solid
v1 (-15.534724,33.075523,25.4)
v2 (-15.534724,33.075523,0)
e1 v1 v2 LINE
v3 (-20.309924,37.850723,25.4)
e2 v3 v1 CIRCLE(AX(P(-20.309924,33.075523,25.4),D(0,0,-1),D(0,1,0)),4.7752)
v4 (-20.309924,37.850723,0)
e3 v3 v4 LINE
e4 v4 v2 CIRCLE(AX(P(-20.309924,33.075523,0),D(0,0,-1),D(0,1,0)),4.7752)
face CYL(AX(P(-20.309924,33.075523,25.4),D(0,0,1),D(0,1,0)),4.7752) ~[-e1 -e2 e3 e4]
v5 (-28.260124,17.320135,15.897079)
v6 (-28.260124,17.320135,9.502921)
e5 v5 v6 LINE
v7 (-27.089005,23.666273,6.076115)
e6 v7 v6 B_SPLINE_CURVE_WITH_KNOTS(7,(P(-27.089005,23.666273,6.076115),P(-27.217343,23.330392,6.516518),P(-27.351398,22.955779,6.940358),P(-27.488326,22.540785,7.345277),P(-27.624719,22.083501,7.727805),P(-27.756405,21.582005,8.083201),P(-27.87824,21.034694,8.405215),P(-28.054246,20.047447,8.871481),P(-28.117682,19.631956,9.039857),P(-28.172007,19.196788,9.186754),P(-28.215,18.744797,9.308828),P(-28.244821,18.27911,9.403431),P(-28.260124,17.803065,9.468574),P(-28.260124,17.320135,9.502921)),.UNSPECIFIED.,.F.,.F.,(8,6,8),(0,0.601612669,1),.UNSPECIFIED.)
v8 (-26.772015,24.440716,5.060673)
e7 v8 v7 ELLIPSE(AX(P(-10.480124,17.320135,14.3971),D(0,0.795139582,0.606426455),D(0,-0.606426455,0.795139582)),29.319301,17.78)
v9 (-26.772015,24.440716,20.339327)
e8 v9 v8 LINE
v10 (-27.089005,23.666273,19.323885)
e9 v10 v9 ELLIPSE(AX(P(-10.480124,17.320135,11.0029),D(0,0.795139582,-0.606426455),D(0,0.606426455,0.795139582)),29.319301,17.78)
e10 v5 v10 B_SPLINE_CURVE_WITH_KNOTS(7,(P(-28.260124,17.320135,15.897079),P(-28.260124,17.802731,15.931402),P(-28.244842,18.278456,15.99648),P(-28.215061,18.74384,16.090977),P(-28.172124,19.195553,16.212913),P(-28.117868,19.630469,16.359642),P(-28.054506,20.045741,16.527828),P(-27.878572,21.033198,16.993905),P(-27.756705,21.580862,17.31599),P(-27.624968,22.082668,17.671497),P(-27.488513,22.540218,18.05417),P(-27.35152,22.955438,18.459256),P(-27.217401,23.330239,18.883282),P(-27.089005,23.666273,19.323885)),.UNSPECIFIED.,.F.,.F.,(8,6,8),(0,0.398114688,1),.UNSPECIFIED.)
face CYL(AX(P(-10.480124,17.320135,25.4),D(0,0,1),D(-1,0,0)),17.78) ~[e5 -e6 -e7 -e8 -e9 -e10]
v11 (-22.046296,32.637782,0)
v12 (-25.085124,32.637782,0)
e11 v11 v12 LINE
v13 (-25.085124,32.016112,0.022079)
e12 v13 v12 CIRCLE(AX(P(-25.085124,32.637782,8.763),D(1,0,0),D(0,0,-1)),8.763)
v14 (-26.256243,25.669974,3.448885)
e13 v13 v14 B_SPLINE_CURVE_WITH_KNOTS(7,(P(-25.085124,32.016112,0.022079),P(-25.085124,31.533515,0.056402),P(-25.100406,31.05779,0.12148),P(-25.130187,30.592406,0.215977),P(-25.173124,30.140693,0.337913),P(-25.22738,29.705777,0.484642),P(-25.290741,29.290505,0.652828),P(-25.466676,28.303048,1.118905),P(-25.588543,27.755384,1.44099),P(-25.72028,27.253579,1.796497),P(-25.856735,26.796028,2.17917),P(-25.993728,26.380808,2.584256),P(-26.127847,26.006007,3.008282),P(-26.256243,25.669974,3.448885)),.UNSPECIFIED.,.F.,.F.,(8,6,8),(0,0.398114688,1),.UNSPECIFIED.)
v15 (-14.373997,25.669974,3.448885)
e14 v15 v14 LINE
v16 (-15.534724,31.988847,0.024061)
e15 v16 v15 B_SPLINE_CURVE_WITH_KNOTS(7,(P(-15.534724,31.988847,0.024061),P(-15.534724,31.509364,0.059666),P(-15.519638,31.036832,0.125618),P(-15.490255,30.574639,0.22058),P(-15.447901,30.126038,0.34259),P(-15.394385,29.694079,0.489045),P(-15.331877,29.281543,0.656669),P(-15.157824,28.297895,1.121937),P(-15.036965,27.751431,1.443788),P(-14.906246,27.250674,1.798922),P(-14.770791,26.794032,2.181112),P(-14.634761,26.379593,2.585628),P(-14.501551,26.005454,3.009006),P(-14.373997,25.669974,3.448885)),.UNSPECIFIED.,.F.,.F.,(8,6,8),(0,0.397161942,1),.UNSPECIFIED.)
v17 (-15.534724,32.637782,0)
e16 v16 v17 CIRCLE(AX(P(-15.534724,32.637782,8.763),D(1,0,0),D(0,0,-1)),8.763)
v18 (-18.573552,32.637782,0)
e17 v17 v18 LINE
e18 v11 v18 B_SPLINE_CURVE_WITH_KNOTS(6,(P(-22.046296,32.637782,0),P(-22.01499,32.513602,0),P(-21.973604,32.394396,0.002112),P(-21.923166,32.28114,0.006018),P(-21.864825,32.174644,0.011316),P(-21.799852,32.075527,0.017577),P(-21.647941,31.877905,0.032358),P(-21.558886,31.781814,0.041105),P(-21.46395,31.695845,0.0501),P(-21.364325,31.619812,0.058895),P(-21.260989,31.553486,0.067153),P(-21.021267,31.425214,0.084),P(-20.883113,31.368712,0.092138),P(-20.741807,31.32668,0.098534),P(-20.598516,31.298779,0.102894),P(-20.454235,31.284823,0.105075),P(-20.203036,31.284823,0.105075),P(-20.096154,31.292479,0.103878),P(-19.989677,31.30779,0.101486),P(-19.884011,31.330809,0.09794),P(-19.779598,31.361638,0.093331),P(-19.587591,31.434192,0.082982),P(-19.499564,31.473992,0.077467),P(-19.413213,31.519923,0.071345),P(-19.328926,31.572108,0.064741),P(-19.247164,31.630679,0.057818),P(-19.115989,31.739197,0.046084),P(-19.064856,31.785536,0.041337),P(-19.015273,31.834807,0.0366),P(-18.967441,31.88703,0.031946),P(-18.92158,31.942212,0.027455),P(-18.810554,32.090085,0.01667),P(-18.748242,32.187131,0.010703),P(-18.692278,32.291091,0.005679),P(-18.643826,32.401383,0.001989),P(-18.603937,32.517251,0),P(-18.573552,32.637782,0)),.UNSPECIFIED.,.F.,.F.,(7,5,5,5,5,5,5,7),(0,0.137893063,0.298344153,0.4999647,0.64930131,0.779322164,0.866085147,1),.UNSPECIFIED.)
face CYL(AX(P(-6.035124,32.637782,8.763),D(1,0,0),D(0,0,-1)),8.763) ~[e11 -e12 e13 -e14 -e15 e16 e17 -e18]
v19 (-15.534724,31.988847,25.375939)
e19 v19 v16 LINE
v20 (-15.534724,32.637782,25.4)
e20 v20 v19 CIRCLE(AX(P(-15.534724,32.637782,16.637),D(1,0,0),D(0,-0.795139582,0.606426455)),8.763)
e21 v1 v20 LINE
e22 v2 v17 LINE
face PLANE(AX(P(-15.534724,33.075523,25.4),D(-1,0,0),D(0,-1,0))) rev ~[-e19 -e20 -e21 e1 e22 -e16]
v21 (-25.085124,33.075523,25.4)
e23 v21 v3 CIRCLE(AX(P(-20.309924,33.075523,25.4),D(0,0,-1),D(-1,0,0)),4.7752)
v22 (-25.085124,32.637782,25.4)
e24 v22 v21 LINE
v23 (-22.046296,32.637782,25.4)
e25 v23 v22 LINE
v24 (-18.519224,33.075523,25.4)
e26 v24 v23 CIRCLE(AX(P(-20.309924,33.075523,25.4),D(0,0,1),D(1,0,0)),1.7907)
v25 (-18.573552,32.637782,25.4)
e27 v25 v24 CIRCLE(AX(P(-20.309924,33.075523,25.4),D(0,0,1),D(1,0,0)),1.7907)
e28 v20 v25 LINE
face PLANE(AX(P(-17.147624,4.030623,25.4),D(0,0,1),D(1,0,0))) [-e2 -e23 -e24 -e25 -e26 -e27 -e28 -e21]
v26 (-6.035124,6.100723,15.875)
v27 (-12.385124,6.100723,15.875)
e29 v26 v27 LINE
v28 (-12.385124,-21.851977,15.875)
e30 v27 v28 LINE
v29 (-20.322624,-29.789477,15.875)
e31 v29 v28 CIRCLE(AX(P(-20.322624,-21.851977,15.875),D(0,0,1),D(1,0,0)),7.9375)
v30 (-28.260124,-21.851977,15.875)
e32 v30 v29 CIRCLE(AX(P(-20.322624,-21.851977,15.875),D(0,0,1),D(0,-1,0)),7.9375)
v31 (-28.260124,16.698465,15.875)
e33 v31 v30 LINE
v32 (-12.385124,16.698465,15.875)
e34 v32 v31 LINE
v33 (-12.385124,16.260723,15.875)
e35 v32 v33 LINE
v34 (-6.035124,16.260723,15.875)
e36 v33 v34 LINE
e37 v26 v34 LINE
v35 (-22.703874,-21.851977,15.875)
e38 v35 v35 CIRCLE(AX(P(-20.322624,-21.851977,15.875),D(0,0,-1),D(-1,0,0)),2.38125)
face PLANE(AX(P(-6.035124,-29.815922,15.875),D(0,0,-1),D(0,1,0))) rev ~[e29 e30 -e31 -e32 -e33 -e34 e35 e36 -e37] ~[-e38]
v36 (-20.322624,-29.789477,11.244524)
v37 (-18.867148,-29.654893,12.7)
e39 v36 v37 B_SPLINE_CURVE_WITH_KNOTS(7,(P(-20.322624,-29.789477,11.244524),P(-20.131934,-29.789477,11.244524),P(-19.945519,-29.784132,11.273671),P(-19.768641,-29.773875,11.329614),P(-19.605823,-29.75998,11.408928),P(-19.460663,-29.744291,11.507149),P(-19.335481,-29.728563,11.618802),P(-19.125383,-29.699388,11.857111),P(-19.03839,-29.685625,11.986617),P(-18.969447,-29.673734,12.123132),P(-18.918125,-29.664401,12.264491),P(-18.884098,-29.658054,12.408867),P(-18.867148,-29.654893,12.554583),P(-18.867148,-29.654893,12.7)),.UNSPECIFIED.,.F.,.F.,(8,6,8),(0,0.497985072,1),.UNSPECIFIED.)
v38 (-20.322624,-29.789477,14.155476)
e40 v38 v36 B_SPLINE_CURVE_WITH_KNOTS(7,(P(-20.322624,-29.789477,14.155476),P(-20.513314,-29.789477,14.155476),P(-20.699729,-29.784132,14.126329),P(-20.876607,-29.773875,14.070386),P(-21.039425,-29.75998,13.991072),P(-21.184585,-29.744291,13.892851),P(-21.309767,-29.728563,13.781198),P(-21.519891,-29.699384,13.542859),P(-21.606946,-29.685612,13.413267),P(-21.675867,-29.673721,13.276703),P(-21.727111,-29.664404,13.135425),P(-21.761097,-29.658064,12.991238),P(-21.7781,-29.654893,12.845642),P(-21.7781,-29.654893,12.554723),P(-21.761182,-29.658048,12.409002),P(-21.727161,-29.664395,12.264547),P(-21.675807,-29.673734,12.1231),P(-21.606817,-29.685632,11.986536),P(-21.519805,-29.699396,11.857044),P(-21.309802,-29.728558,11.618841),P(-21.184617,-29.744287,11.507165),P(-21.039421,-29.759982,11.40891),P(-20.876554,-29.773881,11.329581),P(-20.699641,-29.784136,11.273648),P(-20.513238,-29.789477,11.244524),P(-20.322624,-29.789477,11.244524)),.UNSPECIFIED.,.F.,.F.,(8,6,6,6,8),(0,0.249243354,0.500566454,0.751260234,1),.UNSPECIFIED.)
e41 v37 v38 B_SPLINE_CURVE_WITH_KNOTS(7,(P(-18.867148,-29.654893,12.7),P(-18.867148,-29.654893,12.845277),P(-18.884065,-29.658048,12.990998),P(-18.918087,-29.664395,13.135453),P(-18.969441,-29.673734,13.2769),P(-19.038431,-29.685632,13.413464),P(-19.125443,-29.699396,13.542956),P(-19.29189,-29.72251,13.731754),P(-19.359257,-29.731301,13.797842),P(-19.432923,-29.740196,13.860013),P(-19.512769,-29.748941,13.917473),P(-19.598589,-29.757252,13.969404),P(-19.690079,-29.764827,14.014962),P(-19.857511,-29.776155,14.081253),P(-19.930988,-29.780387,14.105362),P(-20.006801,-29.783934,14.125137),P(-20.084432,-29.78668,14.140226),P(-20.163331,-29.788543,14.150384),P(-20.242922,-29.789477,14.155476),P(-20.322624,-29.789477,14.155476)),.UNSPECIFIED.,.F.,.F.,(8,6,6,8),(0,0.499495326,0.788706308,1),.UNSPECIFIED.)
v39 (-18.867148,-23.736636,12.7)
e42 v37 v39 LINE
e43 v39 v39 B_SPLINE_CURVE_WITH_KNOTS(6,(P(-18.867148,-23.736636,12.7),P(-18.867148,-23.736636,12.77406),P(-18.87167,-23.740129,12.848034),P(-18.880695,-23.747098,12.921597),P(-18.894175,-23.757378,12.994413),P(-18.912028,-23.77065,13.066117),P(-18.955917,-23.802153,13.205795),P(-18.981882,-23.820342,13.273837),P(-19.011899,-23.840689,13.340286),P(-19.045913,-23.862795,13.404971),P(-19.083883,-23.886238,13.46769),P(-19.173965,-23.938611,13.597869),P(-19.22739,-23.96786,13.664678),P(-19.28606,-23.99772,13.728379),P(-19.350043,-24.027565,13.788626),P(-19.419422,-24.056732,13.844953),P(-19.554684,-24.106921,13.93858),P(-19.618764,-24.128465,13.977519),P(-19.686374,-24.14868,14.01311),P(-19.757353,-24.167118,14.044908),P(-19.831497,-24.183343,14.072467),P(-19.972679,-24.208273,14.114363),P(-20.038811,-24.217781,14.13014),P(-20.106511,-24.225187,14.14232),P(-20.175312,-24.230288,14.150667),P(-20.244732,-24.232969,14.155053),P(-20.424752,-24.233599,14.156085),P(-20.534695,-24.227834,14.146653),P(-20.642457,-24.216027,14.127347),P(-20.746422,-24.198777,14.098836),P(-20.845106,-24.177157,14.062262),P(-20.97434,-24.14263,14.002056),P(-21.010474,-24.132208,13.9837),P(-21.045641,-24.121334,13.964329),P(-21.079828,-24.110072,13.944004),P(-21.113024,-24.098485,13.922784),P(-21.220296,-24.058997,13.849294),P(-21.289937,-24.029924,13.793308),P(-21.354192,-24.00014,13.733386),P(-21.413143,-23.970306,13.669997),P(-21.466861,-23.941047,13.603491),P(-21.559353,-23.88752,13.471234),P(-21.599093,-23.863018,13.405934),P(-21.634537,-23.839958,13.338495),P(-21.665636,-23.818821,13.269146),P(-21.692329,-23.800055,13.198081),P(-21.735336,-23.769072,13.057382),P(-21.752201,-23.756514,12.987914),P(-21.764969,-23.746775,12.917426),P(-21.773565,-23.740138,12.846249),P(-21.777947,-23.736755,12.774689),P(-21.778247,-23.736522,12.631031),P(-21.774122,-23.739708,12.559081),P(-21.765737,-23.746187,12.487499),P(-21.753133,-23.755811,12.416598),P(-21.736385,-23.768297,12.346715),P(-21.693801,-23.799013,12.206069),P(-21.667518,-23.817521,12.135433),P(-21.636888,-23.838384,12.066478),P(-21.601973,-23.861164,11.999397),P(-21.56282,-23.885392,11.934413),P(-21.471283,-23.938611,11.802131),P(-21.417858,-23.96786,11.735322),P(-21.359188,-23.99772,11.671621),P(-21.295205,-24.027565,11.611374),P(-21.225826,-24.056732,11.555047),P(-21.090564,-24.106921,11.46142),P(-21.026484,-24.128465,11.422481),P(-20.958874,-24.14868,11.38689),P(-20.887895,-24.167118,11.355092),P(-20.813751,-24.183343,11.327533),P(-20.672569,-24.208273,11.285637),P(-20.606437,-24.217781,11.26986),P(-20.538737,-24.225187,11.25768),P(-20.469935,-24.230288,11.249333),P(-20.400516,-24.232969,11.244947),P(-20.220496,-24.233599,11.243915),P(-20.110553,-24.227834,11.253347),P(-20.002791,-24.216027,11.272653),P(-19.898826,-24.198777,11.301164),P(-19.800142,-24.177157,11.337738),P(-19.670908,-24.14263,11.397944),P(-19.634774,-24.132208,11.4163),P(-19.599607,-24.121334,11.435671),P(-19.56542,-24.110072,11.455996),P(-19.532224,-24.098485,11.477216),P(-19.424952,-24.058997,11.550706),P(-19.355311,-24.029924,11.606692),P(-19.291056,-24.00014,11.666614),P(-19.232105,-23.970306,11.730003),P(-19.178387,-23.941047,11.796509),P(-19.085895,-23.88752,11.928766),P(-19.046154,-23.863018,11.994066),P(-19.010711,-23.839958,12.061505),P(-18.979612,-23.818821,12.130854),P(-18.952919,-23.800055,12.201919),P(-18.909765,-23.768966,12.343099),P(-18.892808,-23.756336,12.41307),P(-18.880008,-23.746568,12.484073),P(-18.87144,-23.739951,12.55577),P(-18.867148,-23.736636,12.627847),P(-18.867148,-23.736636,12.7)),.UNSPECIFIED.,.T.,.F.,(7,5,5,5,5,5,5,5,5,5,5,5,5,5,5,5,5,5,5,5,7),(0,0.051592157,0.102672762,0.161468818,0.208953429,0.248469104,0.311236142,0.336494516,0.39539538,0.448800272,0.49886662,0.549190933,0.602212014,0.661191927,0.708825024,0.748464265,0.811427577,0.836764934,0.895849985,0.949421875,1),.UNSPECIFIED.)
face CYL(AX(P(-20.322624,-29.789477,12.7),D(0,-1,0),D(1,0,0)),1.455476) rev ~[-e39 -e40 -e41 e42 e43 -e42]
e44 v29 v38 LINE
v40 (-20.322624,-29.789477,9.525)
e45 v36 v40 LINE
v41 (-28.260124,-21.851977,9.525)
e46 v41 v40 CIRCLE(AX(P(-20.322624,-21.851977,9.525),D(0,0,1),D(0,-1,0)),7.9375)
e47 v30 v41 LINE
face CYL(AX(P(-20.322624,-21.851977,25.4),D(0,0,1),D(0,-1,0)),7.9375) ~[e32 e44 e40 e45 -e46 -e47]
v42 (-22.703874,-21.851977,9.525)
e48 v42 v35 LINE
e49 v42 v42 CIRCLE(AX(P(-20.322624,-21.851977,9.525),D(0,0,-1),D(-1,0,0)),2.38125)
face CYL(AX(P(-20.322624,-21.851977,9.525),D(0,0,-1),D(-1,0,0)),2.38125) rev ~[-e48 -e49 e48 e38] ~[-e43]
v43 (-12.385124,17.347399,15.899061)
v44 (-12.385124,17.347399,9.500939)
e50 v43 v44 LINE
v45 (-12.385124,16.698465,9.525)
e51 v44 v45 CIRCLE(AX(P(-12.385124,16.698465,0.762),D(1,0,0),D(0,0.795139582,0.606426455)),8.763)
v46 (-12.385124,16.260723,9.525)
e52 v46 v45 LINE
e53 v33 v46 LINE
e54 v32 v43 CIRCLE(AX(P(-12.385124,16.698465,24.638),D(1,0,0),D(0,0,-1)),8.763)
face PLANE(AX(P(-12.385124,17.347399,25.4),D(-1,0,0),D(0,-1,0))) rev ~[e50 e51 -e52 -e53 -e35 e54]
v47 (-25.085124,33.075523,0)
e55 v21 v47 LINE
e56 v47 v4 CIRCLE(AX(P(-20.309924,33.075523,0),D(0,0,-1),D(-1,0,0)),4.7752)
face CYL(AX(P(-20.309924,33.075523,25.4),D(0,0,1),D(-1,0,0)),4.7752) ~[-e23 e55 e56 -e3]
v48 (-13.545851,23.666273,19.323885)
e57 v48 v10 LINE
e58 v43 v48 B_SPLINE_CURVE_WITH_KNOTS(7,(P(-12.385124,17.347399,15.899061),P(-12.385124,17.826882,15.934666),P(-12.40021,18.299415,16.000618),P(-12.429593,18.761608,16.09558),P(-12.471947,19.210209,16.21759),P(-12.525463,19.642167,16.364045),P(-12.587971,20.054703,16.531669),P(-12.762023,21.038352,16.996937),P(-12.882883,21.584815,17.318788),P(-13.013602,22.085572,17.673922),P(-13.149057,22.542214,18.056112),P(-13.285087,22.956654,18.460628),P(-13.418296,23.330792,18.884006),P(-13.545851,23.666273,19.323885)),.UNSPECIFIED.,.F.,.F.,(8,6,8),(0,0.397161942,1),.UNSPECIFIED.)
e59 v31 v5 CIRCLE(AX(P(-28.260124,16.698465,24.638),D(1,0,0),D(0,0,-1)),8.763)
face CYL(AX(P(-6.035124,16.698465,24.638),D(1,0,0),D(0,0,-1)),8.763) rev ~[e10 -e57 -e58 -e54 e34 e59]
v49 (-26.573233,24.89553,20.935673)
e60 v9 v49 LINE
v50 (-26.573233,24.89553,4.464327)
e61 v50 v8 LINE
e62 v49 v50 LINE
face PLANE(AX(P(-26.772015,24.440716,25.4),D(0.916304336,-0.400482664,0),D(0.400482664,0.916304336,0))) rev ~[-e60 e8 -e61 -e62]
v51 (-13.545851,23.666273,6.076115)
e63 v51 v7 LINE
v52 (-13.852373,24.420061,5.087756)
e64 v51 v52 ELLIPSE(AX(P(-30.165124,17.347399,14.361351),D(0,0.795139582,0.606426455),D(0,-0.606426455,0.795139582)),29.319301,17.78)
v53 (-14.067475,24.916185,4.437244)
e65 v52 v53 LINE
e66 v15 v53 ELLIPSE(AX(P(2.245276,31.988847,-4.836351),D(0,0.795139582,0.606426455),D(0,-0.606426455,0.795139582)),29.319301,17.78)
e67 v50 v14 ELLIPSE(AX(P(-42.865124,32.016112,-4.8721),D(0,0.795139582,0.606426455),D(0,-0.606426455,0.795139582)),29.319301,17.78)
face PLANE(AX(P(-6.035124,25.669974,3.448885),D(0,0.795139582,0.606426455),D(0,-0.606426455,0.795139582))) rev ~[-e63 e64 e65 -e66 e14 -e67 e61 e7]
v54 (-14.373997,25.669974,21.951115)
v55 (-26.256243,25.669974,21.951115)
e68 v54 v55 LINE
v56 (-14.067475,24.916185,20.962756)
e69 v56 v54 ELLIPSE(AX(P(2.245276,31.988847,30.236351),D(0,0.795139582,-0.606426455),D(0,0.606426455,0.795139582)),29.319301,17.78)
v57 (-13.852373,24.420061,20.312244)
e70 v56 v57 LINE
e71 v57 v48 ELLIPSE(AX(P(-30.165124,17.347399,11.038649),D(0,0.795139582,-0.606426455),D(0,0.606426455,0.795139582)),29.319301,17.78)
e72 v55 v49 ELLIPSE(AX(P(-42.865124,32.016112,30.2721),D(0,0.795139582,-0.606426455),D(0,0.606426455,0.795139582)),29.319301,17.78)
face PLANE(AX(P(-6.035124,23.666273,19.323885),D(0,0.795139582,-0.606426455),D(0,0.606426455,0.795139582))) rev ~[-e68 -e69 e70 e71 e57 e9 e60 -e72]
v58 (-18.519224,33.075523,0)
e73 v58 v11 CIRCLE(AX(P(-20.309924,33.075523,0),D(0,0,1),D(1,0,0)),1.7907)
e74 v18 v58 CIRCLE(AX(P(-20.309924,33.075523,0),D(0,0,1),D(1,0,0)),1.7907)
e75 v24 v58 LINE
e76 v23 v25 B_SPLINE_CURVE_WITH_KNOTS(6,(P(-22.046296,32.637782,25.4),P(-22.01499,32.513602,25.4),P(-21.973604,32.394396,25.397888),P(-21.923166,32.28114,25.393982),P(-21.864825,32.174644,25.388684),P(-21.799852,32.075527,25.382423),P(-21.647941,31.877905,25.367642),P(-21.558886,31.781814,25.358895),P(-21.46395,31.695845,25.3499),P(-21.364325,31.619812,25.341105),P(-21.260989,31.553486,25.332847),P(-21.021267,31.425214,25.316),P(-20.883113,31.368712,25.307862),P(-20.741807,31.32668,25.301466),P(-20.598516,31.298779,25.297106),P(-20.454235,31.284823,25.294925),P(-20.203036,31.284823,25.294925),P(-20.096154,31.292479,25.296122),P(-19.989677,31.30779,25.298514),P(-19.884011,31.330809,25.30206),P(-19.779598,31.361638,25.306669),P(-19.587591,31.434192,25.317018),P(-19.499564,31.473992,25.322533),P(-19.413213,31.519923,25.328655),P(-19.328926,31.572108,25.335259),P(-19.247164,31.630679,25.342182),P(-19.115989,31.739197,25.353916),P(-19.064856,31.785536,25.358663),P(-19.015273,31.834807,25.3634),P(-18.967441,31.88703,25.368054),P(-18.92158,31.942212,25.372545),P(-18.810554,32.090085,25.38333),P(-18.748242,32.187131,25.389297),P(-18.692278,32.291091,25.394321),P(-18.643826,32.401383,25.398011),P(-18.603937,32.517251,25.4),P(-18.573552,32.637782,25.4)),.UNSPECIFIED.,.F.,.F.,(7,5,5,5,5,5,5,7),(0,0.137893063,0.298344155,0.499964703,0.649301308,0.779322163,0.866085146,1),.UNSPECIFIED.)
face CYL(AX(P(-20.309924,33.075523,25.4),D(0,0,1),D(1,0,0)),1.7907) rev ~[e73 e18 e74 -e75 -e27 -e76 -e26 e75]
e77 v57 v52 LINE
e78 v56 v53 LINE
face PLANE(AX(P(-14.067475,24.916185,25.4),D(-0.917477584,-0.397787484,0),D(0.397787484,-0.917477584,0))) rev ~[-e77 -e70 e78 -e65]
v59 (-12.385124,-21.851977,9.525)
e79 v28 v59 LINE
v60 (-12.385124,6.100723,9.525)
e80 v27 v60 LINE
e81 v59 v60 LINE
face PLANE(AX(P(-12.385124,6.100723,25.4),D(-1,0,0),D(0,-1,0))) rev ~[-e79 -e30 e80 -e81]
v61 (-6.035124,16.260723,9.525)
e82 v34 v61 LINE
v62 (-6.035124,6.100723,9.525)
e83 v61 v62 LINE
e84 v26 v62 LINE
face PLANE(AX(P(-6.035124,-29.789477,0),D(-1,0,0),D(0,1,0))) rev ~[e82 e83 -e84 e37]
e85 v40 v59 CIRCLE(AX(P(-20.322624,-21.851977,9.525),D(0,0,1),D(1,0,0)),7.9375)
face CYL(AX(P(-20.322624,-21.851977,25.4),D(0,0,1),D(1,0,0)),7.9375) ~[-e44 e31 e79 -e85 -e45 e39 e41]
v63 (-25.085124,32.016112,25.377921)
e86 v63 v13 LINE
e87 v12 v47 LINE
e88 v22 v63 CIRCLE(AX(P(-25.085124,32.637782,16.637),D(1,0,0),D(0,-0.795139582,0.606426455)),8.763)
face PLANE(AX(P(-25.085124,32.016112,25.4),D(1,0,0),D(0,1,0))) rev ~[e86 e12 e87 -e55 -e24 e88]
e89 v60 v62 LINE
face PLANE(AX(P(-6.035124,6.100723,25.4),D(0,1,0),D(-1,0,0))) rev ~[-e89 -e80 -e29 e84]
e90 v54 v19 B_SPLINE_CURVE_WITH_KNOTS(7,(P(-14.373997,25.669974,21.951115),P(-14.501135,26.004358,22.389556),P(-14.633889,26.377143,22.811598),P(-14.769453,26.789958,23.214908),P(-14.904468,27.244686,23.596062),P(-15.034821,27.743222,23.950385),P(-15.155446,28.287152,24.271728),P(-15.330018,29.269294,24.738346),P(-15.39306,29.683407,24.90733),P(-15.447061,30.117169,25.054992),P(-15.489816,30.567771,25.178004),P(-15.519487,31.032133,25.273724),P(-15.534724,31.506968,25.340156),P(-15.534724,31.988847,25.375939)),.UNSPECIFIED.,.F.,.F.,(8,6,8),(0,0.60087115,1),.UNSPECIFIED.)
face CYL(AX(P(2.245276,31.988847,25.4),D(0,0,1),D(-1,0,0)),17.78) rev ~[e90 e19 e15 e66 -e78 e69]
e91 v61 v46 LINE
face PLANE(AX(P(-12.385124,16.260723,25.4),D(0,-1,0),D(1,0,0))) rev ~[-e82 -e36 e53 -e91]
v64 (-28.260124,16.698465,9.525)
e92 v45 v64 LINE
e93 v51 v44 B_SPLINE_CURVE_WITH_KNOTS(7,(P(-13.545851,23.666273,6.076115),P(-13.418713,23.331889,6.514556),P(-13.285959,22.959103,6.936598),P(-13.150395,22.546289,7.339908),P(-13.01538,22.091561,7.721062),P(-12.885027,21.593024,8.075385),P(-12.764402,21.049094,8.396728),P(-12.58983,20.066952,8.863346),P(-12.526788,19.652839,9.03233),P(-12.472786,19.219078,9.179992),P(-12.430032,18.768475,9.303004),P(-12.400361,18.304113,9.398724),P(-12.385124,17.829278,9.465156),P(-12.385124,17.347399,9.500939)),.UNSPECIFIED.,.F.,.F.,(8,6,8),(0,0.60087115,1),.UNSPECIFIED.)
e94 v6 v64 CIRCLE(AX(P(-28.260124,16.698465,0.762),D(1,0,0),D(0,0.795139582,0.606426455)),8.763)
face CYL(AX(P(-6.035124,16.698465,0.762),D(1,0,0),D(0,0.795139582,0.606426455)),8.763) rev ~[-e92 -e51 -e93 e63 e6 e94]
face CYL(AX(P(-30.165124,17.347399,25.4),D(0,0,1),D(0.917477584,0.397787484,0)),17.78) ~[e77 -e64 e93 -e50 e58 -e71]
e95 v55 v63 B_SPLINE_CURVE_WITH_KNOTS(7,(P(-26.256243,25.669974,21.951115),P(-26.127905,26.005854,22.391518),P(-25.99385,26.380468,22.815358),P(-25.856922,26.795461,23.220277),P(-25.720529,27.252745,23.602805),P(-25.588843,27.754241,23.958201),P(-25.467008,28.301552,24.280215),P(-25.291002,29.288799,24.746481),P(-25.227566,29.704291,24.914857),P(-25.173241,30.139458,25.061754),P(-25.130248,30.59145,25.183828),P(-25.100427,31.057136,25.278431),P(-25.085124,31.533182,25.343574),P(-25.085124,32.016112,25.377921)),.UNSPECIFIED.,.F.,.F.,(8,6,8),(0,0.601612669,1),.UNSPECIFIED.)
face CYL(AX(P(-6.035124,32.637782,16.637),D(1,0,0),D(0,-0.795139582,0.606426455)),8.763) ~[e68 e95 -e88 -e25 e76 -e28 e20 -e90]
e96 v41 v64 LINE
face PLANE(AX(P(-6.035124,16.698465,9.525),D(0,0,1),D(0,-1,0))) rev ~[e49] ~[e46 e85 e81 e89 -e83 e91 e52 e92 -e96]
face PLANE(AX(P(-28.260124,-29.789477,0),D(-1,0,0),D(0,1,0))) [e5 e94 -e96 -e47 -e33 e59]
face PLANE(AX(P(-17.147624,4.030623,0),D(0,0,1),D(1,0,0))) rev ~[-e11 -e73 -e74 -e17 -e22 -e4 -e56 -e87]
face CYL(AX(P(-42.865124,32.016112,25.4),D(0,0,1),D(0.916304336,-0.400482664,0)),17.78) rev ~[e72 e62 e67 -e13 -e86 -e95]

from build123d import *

# Parameters (mm, degrees)
SKETCH1_W               = 22.225
SKETCH1_H               = 67.6402
BOSS_EXTRUDE1_DEPTH     = 25.4
SKETCH2_R               = 1.7907
CUT_EXTRUDE2_DEPTH      = 25.4
SKETCH4_W               = 9.525
SKETCH4_H               = 10.16
SKETCH4_H_2             = 35.894850391
SKETCH4_H_3             = 35.916644849
CUT_EXTRUDE3_DEPTH      = 51.712797865
SKETCH5_R               = 2.38125
CUT_EXTRUDE4_DEPTH      = 6.35
CUT_EXTRUDE5_REACH      = 79.582
CUT_EXTRUDE5_END_RADIUS = 2.38125
SKETCH6_R               = 1.455475959


with BuildPart() as part:
    # Sketch1 → Boss-Extrude1 (new body)
    with BuildSketch(Plane.XY):
        with Locations((-17.147623967, 4.03062314)):
            Rectangle(SKETCH1_W, SKETCH1_H)
    extrude(amount=BOSS_EXTRUDE1_DEPTH)

    # Sketch2 → Cut-Extrude2 (cut)
    with BuildSketch(Plane.XY.offset(25.4)):
        with BuildLine():
            ThreePointArc((-20.309923967, 37.85072314), (-16.933347665, 36.452099442), (-15.534723967, 33.07552314))
            Line((-15.534723967, 33.07552314), (-15.534723967, 31.988846816))
            ThreePointArc((-15.534723967, 31.988846816), (-15.164047916, 28.377221194), (-14.067475414, 24.916185349))
            Line((-14.067475414, 24.916185349), (-13.85237252, 24.420060932))
            ThreePointArc((-13.85237252, 24.420060932), (-12.755800018, 20.959025087), (-12.385123967, 17.347399465))
            Line((-12.385123967, 17.347399465), (-12.385123967, 16.26072314))
            Line((-12.385123967, 16.26072314), (-6.035123967, 16.26072314))
            Line((-6.035123967, 16.26072314), (-6.035123967, 37.85072314))
            Line((-6.035123967, 37.85072314), (-20.309923967, 37.85072314))
        make_face()
        with BuildLine():
            Line((-25.085123967, 32.016111722), (-25.085123967, 33.07552314))
            ThreePointArc((-25.085123967, 33.07552314), (-23.686500268, 36.452099442), (-20.309923967, 37.85072314))
            Line((-20.309923967, 37.85072314), (-28.260123967, 37.85072314))
            Line((-28.260123967, 37.85072314), (-28.260123967, 17.320134559))
            ThreePointArc((-28.260123967, 17.320134559), (-27.884120973, 20.957343409), (-26.772015056, 24.440716329))
            Line((-26.772015056, 24.440716329), (-26.573232878, 24.895529952))
            ThreePointArc((-26.573232878, 24.895529952), (-25.461126961, 28.378902872), (-25.085123967, 32.016111722))
        make_face()
        with BuildLine():
            Line((-6.035123967, -29.78947686), (-6.035123967, 6.10072314))
            Line((-6.035123967, 6.10072314), (-12.385123967, 6.10072314))
            Line((-12.385123967, 6.10072314), (-12.385123967, -21.85197686))
            ThreePointArc((-12.385123967, -21.85197686), (-14.709963891, -27.464636935), (-20.322623967, -29.78947686))
            Line((-20.322623967, -29.78947686), (-6.035123967, -29.78947686))
        make_face()
        with BuildLine():
            ThreePointArc((-20.322623967, -29.78947686), (-25.935284043, -27.464636935), (-28.260123967, -21.85197686))
            Line((-28.260123967, -21.85197686), (-28.260123967, -29.78947686))
            Line((-28.260123967, -29.78947686), (-20.322623967, -29.78947686))
        make_face()
        with Locations((-20.309923967, 33.07552314)):
            Circle(SKETCH2_R)
    extrude(amount=-CUT_EXTRUDE2_DEPTH, mode=Mode.SUBTRACT)

    # Sketch4 → Cut-Extrude3 (cut, through all)
    with BuildSketch(Plane(origin=(-6.035123967, 0, 0), x_dir=(0, 0, -1), z_dir=(1, 0, 0))):
        with BuildLine():
            Line((-9.525, 16.698464592), (-9.525, 16.26072314))
            Line((-9.525, 16.26072314), (0, 16.26072314))
            Line((0, 16.26072314), (0, 32.637781689))
            ThreePointArc((0, 32.637781689), (-0.909409772, 28.750457477), (-3.448884978, 25.669973531))
            Line((-3.448884978, 25.669973531), (-6.076115022, 23.66627275))
            ThreePointArc((-6.076115022, 23.66627275), (-8.615590228, 20.585788804), (-9.525, 16.698464592))
        make_face()
        with Locations((-4.7625, 11.18072314)):
            Rectangle(SKETCH4_W, SKETCH4_H)
        with Locations((-4.7625, -11.846702056)):
            Rectangle(SKETCH4_W, SKETCH4_H_2)
        with Locations((-20.6375, -11.857599285)):
            Rectangle(SKETCH4_W, SKETCH4_H_3)
        with Locations((-20.6375, 11.18072314)):
            Rectangle(SKETCH4_W, SKETCH4_H)
        with BuildLine():
            Line((-25.4, 16.26072314), (-15.875, 16.26072314))
            Line((-15.875, 16.26072314), (-15.875, 16.698464592))
            ThreePointArc((-15.875, 16.698464592), (-16.784409772, 20.585788804), (-19.323884978, 23.66627275))
            Line((-19.323884978, 23.66627275), (-21.951115022, 25.669973531))
            ThreePointArc((-21.951115022, 25.669973531), (-24.490590228, 28.750457477), (-25.4, 32.637781689))
            Line((-25.4, 32.637781689), (-25.4, 16.26072314))
        make_face()
    extrude(amount=-CUT_EXTRUDE3_DEPTH, mode=Mode.SUBTRACT)

    # Sketch5 → Cut-Extrude4 (cut)
    with BuildSketch(Plane(origin=(0, 0, 9.525), x_dir=(-1, 0, 0), z_dir=(0, 0, -1))):
        with Locations((20.322623967, -21.85197686)):
            Circle(SKETCH5_R)
    extrude(amount=-CUT_EXTRUDE4_DEPTH, mode=Mode.SUBTRACT)

    # Cut-Extrude5: up to this cylinder (the profile starts outside it)
    cut_extrude5_end = Plane(origin=(-20.322623967, -21.85197686, 12.7), z_dir=(0, 0, -1)) * Cylinder(CUT_EXTRUDE5_END_RADIUS, 164.9265, mode=Mode.PRIVATE)
    # Sketch6 → Cut-Extrude5 (cut, up to the surface)
    with BuildSketch(Plane.XZ.offset(29.78947686), mode=Mode.PRIVATE) as cut_extrude5_sk1:
        with Locations((-20.322623967, 12.7)):
            Circle(SKETCH6_R)
    cut_extrude5_tool1 = extrude(cut_extrude5_sk1.sketch, amount=-CUT_EXTRUDE5_REACH, mode=Mode.PRIVATE) - cut_extrude5_end
    add(cut_extrude5_tool1.solids().sort_by_distance((-20.322624, -29.789477, 12.7))[0], mode=Mode.SUBTRACT)


solid = part.part
